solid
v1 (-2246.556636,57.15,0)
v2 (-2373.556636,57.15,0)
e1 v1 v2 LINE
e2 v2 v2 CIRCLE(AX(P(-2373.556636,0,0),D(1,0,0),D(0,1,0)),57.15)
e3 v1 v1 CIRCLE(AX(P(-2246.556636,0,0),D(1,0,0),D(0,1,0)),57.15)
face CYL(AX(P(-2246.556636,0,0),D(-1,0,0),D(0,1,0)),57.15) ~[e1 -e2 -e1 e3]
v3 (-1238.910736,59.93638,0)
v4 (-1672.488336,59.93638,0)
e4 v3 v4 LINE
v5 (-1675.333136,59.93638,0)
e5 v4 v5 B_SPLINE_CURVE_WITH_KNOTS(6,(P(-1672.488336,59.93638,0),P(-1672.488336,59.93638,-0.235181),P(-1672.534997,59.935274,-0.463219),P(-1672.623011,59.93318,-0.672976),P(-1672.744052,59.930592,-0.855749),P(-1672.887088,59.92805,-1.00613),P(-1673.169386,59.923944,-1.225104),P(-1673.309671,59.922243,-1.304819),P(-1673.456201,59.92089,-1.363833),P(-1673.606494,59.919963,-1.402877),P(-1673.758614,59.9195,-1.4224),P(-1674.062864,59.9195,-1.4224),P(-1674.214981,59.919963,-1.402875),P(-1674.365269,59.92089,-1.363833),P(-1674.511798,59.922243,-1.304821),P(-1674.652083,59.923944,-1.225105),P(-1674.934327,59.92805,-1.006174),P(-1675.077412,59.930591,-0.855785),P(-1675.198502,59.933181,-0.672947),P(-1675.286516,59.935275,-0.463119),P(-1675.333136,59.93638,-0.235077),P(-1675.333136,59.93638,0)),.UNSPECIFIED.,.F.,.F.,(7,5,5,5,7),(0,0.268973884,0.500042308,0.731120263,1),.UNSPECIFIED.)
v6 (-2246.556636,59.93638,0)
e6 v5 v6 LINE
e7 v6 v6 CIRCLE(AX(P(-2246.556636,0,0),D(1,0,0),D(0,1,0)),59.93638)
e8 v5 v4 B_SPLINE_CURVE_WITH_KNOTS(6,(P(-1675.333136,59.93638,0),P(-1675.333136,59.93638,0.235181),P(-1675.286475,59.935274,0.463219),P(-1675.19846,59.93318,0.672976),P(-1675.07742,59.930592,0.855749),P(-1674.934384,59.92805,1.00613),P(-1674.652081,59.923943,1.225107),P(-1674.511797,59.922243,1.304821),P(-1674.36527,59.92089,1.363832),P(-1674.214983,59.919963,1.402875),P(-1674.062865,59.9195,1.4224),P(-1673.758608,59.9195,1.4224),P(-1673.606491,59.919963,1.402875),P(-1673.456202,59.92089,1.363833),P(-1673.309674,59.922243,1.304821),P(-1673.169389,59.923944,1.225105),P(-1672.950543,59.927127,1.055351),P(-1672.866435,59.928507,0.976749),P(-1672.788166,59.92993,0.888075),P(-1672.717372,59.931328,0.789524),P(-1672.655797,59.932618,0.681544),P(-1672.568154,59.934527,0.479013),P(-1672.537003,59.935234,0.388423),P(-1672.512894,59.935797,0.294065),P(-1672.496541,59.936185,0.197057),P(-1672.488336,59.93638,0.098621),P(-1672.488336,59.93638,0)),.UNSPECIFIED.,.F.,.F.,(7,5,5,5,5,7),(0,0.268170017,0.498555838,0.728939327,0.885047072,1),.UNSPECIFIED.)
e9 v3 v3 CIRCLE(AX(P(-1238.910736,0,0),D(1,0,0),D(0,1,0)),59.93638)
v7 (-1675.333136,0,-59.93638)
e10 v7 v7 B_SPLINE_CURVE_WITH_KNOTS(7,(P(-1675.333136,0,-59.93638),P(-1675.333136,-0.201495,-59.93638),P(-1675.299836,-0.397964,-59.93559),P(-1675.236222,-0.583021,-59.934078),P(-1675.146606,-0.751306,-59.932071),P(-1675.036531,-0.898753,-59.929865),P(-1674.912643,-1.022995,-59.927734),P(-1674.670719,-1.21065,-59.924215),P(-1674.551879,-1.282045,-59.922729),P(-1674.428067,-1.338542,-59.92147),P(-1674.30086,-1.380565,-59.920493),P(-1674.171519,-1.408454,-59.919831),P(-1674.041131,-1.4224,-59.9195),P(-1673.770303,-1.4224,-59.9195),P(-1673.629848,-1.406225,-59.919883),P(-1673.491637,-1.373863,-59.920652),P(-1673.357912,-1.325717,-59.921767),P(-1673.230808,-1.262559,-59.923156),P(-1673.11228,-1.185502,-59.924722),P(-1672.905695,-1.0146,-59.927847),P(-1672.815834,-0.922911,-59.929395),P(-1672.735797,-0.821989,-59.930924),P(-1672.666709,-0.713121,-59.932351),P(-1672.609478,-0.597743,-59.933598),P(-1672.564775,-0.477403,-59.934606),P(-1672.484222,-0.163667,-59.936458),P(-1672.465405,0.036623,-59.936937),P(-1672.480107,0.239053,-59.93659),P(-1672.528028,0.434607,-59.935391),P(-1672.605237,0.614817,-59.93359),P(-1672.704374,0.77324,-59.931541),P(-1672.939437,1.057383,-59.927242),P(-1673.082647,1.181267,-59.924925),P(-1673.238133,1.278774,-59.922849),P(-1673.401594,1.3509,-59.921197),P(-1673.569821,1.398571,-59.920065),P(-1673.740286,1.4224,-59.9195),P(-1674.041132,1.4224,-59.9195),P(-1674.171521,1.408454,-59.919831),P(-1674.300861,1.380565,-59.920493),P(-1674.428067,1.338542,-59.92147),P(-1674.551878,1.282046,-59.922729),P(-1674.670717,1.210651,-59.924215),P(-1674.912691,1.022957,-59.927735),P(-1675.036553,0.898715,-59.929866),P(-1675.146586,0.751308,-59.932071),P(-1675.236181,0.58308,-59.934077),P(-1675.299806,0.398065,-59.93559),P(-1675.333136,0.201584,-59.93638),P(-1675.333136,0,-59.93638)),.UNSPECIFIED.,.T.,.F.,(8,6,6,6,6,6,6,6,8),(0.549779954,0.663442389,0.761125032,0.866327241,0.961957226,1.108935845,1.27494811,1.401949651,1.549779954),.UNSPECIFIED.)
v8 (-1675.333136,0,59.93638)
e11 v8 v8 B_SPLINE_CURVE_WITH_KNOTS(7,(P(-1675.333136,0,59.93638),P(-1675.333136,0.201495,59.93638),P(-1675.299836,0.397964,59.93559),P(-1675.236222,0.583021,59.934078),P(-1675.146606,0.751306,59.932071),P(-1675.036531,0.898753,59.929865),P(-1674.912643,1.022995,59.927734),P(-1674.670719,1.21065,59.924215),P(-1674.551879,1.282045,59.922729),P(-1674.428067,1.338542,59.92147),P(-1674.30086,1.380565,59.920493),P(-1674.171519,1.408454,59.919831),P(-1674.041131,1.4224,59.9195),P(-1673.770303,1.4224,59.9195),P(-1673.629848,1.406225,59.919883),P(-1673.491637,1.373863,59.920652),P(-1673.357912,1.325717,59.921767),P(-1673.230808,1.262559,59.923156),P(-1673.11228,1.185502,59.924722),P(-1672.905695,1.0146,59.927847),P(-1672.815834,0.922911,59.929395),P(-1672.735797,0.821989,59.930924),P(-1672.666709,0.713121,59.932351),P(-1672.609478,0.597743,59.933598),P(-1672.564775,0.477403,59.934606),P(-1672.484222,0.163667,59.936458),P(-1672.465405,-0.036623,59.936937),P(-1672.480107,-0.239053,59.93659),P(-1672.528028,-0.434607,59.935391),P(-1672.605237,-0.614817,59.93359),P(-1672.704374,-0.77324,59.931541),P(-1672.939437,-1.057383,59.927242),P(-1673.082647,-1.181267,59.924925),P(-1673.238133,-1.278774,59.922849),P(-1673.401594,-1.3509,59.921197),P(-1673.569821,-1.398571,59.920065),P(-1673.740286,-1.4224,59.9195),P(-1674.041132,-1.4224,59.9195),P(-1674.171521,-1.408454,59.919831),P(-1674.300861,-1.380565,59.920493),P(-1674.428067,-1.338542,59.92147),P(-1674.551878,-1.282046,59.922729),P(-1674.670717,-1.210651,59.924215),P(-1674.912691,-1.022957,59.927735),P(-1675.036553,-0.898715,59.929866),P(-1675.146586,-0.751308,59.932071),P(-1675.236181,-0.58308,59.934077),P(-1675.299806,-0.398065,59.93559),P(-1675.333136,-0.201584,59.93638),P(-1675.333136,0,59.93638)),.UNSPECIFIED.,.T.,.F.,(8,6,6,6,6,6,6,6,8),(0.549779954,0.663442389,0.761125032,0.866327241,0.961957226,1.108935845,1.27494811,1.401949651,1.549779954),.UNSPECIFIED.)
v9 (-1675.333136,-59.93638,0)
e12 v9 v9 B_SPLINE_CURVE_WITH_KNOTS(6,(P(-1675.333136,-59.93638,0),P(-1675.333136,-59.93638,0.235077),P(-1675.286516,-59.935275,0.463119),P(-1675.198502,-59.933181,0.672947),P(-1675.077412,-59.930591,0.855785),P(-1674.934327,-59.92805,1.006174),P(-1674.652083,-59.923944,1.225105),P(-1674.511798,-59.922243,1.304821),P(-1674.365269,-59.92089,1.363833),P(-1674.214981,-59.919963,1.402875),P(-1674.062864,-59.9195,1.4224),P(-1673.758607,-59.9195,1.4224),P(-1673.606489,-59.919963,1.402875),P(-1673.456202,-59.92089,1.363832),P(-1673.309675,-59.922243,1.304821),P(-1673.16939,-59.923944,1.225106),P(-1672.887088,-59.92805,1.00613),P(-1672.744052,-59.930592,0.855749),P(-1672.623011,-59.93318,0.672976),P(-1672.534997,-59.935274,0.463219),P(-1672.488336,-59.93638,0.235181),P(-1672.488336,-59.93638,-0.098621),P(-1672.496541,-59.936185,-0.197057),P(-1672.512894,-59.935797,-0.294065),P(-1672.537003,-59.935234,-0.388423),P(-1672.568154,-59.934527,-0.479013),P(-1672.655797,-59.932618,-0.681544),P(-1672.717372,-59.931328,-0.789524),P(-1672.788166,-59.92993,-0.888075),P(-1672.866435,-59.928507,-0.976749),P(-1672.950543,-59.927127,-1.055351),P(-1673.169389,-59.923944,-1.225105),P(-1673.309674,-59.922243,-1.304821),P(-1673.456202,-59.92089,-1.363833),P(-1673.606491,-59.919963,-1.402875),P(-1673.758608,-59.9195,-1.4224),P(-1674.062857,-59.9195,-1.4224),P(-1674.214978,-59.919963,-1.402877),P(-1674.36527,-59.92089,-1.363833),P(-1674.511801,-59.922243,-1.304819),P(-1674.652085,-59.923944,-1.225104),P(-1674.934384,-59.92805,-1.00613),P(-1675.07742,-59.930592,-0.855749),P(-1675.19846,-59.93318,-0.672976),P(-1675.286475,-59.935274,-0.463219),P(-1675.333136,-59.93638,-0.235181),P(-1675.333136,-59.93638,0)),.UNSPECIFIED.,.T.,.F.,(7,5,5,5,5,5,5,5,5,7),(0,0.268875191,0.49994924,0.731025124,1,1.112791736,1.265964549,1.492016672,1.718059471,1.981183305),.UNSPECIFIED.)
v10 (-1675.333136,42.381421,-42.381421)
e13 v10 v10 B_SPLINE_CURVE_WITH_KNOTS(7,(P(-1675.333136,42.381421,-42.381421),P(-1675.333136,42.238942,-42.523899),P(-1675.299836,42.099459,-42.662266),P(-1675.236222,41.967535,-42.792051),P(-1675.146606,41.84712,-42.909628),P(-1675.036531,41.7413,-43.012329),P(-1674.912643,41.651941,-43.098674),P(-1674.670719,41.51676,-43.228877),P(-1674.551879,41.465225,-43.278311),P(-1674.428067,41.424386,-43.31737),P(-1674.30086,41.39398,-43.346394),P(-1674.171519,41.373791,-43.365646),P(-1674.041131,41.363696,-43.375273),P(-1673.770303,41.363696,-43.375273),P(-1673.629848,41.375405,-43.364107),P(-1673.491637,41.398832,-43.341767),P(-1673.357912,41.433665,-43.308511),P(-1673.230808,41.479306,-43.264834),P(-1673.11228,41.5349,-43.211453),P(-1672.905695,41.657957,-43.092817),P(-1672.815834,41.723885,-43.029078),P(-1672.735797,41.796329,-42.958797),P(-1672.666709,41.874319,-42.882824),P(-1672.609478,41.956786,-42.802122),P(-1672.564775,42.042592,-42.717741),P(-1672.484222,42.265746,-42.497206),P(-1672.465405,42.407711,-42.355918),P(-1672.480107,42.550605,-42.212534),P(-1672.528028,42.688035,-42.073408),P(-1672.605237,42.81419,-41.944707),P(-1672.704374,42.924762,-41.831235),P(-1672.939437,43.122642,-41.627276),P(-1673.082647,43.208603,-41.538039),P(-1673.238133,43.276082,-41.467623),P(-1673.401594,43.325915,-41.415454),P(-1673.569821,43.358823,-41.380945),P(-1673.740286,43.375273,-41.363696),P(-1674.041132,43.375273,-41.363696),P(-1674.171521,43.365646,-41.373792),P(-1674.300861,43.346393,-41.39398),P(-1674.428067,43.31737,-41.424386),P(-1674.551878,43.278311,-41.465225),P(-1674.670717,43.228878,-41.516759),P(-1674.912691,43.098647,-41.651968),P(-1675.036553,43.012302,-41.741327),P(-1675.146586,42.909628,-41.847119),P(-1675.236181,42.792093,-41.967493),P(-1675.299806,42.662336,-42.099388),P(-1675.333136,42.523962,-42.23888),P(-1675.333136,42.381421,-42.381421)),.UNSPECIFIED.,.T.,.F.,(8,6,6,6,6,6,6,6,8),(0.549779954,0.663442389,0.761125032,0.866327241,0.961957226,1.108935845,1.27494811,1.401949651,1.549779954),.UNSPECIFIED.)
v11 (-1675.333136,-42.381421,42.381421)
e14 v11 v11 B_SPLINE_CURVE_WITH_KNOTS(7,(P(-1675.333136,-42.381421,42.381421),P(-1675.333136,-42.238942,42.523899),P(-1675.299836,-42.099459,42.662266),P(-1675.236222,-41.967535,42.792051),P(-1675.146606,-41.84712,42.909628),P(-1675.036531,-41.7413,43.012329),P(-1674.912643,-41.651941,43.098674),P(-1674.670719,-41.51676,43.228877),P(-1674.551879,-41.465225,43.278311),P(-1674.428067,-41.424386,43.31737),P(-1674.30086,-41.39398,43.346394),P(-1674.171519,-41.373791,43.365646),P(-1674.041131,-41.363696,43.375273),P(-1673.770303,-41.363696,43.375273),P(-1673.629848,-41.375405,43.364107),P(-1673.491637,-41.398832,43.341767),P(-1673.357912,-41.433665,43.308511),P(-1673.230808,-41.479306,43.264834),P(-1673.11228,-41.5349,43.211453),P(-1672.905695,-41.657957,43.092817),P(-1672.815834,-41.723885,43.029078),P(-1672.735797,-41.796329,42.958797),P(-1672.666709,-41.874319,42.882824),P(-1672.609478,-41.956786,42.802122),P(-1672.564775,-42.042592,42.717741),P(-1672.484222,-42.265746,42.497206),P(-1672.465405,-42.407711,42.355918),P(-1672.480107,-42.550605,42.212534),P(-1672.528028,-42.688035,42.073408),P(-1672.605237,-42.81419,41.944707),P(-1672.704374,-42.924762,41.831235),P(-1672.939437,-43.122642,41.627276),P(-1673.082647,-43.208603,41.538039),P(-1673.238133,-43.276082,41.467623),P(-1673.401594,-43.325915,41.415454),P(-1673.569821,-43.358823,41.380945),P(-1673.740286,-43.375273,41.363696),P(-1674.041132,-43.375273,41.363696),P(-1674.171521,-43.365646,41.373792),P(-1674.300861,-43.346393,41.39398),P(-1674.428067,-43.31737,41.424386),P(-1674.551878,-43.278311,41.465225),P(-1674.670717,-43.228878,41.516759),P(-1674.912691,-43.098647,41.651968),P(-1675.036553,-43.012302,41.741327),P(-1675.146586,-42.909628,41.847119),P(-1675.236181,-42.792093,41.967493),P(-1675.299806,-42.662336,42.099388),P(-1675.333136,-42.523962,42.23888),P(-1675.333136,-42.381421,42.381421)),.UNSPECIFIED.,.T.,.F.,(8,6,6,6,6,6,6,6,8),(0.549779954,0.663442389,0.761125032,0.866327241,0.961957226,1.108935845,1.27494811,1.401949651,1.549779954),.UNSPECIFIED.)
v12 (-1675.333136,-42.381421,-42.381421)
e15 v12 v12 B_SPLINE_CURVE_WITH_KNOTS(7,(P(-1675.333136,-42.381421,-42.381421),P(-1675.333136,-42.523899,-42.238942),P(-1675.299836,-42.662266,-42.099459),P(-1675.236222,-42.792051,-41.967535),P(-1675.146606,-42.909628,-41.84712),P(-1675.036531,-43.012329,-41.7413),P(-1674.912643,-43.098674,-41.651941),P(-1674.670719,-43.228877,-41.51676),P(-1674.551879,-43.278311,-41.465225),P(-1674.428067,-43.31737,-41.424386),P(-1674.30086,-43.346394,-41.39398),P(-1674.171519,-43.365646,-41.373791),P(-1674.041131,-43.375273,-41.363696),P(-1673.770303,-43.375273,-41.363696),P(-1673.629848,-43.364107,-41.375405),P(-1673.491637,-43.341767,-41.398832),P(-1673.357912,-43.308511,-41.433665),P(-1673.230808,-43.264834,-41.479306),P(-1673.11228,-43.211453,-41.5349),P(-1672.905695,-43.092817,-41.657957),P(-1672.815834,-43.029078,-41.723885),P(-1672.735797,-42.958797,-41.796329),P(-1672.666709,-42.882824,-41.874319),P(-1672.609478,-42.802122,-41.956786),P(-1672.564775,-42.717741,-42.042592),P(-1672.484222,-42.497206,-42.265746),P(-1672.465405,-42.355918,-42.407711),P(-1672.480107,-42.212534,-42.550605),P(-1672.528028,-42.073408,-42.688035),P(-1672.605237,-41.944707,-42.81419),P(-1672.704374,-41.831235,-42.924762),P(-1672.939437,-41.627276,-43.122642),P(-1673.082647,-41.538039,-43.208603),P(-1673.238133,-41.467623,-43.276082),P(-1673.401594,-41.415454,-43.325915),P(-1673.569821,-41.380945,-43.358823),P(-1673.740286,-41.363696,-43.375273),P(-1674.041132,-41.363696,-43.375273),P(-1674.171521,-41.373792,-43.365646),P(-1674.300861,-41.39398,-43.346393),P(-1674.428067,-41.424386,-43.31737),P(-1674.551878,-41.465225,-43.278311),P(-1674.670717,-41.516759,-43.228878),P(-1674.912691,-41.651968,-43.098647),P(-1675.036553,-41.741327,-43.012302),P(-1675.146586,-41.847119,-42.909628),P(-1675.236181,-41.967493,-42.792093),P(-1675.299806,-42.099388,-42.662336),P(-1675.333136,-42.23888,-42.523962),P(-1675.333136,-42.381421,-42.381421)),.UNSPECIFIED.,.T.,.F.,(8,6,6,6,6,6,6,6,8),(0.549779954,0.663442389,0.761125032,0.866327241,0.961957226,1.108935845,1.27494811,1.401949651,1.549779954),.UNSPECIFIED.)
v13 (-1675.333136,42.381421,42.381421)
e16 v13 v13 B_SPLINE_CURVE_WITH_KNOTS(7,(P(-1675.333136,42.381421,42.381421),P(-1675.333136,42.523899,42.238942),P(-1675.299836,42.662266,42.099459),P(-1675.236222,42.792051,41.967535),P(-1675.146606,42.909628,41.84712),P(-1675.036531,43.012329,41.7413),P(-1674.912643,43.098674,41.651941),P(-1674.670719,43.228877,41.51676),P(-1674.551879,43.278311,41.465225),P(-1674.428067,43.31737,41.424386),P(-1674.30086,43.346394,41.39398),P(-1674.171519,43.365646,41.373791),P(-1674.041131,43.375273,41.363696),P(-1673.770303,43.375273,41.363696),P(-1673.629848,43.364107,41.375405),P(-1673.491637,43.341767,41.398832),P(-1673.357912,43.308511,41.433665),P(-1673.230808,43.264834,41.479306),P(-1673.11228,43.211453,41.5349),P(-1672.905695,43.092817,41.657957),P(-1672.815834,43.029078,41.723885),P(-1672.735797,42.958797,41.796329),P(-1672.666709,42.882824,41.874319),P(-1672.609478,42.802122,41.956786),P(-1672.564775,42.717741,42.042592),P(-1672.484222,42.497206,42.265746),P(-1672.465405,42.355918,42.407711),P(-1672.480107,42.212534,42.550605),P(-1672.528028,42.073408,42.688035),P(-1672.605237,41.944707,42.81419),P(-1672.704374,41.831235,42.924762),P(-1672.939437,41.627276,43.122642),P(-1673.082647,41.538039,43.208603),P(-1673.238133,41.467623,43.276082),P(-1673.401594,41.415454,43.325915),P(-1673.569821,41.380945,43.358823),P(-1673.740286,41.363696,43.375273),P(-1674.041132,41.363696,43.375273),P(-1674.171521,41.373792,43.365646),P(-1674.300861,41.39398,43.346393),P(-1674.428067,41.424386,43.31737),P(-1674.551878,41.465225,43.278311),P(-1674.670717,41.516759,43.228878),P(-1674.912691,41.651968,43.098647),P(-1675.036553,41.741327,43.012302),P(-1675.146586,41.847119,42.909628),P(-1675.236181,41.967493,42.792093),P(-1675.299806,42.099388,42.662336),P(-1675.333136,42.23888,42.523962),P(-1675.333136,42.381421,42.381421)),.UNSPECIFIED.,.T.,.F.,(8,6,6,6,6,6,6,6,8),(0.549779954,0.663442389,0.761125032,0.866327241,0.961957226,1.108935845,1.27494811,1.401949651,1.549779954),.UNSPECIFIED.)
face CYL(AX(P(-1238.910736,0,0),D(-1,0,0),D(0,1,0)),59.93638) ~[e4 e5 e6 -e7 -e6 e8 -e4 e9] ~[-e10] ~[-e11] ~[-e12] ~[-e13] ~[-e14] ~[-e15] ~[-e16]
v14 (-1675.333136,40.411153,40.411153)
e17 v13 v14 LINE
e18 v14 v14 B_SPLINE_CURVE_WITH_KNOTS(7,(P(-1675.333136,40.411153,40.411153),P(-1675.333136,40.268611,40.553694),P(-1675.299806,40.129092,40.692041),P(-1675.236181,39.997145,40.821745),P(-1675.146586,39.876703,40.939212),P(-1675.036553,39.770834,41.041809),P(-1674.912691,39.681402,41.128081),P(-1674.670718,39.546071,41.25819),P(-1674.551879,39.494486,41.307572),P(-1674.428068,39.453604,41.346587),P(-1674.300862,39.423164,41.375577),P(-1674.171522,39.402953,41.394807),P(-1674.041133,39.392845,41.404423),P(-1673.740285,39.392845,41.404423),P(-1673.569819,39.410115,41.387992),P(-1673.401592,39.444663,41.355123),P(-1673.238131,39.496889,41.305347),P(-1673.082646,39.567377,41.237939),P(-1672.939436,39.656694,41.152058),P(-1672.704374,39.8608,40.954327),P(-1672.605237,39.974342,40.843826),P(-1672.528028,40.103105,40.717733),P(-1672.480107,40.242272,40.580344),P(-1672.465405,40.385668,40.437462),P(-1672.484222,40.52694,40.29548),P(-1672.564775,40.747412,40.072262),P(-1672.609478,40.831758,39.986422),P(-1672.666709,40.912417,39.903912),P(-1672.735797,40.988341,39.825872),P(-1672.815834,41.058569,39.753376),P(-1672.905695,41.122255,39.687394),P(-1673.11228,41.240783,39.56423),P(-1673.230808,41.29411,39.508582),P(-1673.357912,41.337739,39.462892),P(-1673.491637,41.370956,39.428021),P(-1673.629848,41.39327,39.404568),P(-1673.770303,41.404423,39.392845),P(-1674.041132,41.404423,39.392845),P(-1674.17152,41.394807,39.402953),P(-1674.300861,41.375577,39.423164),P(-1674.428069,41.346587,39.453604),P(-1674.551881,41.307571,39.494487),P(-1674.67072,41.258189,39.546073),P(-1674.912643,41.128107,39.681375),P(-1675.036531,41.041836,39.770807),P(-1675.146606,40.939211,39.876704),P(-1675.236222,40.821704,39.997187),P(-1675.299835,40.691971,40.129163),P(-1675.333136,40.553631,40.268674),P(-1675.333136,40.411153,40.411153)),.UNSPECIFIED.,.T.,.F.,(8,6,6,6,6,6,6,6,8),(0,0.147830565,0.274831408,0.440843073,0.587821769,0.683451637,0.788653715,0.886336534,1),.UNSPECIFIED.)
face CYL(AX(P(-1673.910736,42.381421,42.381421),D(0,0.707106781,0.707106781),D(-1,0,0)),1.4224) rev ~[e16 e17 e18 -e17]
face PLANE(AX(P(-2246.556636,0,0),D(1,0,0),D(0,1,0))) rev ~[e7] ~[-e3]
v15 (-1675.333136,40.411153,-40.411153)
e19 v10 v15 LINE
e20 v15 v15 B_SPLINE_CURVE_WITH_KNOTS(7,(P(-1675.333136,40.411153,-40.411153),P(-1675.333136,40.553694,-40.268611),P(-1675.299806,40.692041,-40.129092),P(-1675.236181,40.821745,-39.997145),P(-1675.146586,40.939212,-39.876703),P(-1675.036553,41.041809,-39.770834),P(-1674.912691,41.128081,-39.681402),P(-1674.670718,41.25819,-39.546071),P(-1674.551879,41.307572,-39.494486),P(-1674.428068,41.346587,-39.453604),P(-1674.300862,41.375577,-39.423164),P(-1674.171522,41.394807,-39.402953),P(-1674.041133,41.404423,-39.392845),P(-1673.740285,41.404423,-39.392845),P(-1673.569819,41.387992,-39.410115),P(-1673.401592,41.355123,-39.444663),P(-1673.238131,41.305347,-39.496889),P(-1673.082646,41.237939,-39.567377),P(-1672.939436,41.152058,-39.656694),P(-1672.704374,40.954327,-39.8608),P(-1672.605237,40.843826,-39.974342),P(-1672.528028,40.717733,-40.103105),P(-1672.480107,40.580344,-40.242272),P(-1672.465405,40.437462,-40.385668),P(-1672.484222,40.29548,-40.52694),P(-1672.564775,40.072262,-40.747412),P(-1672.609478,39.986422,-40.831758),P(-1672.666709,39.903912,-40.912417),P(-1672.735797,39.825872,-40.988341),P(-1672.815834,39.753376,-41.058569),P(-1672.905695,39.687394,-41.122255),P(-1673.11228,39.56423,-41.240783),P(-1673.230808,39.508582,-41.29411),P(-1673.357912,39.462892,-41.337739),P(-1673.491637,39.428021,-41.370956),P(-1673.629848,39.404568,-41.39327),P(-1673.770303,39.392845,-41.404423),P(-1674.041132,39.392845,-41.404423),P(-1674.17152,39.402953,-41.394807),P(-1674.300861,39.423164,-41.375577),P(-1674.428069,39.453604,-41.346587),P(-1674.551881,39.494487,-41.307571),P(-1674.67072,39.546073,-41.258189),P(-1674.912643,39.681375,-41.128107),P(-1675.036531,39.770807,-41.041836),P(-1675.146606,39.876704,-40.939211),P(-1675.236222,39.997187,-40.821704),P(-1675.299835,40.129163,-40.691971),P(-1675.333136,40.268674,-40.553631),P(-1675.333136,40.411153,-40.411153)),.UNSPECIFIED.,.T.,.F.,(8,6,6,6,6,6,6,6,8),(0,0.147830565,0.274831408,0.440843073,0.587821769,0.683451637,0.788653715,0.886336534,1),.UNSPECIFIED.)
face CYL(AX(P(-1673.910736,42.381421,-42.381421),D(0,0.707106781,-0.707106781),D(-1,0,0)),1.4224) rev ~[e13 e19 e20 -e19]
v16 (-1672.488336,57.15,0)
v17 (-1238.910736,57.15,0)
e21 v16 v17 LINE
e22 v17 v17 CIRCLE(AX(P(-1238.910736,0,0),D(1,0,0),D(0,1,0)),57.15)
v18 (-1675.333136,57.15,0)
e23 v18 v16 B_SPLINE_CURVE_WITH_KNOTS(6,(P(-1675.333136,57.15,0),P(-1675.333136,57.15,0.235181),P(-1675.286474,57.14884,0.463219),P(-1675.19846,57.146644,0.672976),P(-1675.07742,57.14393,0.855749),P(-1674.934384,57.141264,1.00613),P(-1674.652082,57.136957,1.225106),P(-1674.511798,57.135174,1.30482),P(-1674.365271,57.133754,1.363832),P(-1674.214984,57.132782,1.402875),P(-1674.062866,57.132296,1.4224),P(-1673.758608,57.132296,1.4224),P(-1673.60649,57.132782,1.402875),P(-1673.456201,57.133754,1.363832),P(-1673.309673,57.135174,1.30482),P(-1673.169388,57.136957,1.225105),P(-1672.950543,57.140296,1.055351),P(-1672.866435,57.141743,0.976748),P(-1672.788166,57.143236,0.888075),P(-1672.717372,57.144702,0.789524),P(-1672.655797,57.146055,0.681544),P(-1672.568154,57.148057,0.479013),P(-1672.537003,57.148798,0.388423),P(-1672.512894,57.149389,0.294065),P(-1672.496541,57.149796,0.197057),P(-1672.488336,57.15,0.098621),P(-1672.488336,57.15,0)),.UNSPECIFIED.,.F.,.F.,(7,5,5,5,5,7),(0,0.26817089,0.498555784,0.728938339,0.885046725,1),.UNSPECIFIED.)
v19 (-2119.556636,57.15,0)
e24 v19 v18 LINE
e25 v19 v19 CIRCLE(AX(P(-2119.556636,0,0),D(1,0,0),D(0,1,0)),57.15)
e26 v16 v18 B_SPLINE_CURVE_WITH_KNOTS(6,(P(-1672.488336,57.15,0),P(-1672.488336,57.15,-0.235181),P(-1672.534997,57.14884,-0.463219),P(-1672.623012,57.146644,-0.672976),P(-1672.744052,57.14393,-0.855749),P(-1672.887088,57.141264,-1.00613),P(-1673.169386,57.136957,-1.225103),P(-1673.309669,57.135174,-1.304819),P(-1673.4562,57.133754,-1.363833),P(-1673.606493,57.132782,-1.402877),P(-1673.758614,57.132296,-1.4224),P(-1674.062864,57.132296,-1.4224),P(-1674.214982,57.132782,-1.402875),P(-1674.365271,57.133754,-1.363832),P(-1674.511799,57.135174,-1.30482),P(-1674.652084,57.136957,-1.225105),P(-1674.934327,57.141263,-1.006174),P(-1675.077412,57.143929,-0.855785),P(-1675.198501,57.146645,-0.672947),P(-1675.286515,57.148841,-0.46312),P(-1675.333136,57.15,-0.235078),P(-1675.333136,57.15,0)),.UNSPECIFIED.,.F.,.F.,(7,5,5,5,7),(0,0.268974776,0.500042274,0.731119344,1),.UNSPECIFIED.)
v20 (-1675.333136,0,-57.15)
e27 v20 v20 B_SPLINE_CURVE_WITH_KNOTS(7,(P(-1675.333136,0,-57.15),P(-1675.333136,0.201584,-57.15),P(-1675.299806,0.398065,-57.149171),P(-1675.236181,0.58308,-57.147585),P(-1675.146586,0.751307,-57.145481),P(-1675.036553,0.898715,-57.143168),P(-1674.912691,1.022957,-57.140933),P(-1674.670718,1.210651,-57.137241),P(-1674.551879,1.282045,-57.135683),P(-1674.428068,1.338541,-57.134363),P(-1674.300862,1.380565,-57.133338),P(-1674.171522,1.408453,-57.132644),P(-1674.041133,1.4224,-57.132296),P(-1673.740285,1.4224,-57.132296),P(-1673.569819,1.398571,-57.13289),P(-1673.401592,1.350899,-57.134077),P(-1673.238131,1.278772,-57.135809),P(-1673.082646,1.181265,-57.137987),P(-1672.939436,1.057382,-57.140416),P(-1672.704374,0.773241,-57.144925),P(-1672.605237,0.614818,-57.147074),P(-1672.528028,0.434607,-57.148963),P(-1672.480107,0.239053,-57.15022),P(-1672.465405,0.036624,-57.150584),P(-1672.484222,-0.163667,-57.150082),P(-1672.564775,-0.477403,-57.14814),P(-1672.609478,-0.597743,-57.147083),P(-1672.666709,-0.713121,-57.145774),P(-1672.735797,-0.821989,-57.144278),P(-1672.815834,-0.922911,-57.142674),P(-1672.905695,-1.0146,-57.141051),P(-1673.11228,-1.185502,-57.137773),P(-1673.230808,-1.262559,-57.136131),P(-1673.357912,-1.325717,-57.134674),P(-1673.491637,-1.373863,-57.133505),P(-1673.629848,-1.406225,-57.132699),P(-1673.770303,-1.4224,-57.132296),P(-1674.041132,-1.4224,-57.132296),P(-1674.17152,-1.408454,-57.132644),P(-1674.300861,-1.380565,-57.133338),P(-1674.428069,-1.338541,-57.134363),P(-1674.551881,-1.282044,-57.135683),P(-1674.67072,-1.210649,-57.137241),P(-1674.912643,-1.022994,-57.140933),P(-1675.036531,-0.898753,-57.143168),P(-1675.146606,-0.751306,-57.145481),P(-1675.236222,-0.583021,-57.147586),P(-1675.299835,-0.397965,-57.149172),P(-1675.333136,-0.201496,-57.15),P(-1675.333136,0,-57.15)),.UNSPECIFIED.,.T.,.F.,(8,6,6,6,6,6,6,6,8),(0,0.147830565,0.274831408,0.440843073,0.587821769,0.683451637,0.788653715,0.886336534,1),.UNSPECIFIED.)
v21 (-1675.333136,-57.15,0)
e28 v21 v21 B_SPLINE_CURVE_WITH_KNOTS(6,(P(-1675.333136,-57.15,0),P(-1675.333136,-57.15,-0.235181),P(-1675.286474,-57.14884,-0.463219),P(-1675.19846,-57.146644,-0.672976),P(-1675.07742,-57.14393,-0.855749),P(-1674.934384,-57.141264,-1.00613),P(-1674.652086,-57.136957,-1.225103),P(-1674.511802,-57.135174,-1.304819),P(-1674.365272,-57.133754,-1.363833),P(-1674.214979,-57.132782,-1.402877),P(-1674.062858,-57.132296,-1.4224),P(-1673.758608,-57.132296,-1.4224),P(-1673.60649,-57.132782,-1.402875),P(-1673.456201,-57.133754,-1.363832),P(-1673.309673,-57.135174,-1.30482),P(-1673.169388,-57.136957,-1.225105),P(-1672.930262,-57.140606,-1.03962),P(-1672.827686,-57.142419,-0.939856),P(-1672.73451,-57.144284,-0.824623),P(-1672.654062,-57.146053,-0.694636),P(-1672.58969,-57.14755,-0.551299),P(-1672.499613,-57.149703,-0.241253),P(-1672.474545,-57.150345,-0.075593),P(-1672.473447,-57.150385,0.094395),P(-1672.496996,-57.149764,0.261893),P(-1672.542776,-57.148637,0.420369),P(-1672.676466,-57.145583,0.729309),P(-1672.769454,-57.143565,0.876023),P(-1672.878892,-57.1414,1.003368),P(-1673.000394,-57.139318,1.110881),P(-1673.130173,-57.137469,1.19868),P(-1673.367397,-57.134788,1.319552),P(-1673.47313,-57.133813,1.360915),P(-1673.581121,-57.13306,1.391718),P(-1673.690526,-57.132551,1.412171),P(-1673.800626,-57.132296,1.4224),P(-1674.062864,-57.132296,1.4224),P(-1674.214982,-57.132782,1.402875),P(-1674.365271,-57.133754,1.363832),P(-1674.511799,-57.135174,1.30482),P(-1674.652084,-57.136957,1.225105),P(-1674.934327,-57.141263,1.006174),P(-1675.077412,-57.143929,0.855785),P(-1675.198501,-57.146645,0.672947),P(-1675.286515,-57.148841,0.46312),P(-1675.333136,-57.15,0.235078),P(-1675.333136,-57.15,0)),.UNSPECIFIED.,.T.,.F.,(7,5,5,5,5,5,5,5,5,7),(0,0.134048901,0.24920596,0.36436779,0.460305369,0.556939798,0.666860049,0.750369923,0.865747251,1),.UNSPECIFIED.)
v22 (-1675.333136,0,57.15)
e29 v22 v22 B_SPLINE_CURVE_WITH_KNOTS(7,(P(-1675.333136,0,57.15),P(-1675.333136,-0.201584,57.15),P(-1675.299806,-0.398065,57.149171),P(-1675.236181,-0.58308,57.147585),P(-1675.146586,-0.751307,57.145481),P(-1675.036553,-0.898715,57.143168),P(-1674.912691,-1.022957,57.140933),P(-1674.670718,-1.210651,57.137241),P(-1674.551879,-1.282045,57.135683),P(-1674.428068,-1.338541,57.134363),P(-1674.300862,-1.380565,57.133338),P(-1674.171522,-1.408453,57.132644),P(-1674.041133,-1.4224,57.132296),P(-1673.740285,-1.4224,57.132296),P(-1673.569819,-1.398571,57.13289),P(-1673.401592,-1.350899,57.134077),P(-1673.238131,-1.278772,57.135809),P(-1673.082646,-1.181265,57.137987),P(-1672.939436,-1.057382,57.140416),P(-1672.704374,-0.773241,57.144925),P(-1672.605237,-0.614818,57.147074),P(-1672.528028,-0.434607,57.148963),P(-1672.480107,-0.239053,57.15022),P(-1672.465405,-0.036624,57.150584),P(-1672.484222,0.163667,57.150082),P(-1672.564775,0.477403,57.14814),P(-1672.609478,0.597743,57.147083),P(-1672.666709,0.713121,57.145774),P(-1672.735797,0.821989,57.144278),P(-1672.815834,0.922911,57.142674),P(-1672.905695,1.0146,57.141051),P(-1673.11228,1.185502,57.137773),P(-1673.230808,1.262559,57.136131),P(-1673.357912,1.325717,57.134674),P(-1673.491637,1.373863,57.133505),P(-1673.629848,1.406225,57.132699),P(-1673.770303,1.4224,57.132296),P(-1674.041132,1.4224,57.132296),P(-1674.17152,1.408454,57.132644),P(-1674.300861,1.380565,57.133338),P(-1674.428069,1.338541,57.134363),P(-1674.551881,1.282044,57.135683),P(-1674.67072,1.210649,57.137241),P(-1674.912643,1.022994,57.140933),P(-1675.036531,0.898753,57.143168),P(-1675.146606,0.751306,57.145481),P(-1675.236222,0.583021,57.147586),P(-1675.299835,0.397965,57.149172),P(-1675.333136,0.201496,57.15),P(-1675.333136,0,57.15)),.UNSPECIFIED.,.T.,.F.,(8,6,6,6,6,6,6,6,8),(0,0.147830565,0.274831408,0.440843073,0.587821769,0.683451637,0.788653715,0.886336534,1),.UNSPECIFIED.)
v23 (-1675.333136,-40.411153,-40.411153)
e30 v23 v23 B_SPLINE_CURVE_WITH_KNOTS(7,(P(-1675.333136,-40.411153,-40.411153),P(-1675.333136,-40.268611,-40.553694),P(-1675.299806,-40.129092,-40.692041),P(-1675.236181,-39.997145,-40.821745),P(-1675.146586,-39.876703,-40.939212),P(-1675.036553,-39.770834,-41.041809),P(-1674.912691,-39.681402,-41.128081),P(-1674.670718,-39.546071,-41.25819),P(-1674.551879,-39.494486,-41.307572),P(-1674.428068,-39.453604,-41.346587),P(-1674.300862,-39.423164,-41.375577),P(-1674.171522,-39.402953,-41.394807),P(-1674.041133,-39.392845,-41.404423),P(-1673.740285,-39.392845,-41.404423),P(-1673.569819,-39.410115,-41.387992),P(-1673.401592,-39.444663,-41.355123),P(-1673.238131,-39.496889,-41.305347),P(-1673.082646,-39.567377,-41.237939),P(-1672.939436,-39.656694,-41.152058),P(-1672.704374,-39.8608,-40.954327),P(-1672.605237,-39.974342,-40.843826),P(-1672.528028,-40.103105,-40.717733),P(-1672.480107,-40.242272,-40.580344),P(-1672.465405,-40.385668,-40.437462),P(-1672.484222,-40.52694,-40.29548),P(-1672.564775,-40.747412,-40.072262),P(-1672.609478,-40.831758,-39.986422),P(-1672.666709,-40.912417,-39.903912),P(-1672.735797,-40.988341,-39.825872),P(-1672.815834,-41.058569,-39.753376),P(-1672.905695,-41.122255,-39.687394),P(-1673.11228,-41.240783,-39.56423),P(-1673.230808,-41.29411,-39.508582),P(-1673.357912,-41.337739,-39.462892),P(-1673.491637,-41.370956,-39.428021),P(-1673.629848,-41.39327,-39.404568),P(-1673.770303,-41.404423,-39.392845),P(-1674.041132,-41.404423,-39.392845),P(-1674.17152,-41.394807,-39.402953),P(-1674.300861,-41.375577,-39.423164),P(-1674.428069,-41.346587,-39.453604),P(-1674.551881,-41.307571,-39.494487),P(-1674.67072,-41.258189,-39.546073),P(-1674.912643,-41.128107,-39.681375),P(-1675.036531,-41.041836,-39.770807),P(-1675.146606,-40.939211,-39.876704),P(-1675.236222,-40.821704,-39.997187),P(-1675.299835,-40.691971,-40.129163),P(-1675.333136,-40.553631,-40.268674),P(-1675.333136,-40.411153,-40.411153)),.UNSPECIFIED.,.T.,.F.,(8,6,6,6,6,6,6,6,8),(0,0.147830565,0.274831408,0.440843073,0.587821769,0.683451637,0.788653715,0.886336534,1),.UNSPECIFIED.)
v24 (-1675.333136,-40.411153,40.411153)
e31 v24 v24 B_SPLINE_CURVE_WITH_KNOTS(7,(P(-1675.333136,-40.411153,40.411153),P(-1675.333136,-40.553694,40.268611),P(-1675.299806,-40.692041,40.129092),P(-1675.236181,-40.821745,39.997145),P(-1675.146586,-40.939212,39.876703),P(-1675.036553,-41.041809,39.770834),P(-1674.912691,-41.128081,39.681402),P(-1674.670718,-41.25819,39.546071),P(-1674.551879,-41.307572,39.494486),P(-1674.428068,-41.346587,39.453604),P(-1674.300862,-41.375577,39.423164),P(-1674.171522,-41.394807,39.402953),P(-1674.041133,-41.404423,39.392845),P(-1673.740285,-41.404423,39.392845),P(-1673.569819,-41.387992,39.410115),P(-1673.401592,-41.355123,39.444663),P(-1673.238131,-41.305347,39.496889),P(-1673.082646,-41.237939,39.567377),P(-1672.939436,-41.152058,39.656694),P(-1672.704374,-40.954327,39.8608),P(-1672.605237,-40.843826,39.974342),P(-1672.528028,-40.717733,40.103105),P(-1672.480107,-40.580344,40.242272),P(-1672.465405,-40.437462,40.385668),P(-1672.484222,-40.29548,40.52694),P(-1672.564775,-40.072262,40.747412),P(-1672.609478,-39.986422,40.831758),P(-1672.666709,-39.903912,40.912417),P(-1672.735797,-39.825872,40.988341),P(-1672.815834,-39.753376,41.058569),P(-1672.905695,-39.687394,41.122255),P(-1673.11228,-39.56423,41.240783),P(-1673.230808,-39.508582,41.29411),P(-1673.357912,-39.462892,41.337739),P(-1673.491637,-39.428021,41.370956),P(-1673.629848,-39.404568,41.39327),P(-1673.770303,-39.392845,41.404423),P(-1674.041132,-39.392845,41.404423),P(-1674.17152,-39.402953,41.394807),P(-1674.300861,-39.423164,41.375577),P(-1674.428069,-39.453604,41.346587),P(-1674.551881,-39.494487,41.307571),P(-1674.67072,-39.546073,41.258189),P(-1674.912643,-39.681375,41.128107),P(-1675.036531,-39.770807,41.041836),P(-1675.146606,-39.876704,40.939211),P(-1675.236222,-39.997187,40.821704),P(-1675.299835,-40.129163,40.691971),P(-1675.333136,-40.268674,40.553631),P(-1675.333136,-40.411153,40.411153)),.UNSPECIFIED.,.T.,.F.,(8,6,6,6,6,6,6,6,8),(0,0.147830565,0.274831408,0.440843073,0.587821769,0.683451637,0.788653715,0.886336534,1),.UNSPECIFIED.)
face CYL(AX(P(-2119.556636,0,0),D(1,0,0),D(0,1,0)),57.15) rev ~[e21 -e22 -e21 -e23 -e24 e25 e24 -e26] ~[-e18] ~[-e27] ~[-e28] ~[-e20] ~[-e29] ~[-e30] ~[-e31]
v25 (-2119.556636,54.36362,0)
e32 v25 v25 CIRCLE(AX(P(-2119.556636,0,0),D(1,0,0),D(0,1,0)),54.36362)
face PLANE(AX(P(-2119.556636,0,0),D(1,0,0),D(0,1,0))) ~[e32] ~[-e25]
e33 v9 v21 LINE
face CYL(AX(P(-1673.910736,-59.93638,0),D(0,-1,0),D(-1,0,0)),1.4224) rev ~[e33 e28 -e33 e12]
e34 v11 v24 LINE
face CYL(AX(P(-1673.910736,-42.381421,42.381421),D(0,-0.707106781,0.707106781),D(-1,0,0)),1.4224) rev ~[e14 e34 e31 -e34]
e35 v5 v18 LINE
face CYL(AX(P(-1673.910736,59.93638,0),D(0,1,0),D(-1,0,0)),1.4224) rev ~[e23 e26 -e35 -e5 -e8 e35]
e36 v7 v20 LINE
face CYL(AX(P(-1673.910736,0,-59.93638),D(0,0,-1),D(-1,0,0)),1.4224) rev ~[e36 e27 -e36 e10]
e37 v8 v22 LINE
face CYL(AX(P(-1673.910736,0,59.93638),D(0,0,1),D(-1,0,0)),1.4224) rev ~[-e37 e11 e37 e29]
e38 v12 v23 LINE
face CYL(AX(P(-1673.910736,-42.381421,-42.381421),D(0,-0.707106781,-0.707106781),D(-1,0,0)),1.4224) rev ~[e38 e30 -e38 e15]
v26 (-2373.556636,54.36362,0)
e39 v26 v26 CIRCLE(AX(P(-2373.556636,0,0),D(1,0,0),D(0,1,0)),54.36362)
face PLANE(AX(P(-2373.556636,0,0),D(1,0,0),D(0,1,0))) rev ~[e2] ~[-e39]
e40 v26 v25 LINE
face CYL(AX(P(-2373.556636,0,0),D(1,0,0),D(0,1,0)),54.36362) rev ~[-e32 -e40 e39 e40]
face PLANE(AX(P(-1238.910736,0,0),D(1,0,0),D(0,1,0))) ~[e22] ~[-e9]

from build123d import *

# Parameters (mm, degrees)
SKETCH2_R          = 1.4224
CUT_EXTRUDE1_DEPTH = 20
CIRPATTERN1_COUNT  = 8


with BuildPart() as part:
    # Sketch1 → Revolve1 (revolve)
    with BuildSketch(Plane.XY):
        Polygon((-1238.910735908, 59.93638), (-2246.556635908, 59.93638), (-2246.556635908, 57.15), (-2373.556635908, 57.15), (-2373.556635908, 54.36362), (-2119.556635908, 54.36362), (-2119.556635908, 57.15), (-1238.910735908, 57.15), align=None)
    revolve(axis=Axis((-2246.556635908, 0, 0), (1, 0, 0)))

    # Sketch2 → Cut-Extrude1 (cut)
    with BuildSketch(Plane(origin=(0, 0, -59.93638), x_dir=(-1, 0, 0), z_dir=(0, 0, -1))):
        with Locations((1673.910735908, 0)):
            Circle(SKETCH2_R)
    cut_extrude1 = extrude(amount=-CUT_EXTRUDE1_DEPTH, mode=Mode.SUBTRACT)

    # CirPattern1: Cut-Extrude1 ×8 about axis
    cirpattern1_axis = Axis((-1238.910735908, 0, 0), (-1, 0, 0))
    for i in range(1, CIRPATTERN1_COUNT):
        add(cut_extrude1.rotate(cirpattern1_axis, i * 360 / CIRPATTERN1_COUNT), mode=Mode.SUBTRACT)


solid = part.part
